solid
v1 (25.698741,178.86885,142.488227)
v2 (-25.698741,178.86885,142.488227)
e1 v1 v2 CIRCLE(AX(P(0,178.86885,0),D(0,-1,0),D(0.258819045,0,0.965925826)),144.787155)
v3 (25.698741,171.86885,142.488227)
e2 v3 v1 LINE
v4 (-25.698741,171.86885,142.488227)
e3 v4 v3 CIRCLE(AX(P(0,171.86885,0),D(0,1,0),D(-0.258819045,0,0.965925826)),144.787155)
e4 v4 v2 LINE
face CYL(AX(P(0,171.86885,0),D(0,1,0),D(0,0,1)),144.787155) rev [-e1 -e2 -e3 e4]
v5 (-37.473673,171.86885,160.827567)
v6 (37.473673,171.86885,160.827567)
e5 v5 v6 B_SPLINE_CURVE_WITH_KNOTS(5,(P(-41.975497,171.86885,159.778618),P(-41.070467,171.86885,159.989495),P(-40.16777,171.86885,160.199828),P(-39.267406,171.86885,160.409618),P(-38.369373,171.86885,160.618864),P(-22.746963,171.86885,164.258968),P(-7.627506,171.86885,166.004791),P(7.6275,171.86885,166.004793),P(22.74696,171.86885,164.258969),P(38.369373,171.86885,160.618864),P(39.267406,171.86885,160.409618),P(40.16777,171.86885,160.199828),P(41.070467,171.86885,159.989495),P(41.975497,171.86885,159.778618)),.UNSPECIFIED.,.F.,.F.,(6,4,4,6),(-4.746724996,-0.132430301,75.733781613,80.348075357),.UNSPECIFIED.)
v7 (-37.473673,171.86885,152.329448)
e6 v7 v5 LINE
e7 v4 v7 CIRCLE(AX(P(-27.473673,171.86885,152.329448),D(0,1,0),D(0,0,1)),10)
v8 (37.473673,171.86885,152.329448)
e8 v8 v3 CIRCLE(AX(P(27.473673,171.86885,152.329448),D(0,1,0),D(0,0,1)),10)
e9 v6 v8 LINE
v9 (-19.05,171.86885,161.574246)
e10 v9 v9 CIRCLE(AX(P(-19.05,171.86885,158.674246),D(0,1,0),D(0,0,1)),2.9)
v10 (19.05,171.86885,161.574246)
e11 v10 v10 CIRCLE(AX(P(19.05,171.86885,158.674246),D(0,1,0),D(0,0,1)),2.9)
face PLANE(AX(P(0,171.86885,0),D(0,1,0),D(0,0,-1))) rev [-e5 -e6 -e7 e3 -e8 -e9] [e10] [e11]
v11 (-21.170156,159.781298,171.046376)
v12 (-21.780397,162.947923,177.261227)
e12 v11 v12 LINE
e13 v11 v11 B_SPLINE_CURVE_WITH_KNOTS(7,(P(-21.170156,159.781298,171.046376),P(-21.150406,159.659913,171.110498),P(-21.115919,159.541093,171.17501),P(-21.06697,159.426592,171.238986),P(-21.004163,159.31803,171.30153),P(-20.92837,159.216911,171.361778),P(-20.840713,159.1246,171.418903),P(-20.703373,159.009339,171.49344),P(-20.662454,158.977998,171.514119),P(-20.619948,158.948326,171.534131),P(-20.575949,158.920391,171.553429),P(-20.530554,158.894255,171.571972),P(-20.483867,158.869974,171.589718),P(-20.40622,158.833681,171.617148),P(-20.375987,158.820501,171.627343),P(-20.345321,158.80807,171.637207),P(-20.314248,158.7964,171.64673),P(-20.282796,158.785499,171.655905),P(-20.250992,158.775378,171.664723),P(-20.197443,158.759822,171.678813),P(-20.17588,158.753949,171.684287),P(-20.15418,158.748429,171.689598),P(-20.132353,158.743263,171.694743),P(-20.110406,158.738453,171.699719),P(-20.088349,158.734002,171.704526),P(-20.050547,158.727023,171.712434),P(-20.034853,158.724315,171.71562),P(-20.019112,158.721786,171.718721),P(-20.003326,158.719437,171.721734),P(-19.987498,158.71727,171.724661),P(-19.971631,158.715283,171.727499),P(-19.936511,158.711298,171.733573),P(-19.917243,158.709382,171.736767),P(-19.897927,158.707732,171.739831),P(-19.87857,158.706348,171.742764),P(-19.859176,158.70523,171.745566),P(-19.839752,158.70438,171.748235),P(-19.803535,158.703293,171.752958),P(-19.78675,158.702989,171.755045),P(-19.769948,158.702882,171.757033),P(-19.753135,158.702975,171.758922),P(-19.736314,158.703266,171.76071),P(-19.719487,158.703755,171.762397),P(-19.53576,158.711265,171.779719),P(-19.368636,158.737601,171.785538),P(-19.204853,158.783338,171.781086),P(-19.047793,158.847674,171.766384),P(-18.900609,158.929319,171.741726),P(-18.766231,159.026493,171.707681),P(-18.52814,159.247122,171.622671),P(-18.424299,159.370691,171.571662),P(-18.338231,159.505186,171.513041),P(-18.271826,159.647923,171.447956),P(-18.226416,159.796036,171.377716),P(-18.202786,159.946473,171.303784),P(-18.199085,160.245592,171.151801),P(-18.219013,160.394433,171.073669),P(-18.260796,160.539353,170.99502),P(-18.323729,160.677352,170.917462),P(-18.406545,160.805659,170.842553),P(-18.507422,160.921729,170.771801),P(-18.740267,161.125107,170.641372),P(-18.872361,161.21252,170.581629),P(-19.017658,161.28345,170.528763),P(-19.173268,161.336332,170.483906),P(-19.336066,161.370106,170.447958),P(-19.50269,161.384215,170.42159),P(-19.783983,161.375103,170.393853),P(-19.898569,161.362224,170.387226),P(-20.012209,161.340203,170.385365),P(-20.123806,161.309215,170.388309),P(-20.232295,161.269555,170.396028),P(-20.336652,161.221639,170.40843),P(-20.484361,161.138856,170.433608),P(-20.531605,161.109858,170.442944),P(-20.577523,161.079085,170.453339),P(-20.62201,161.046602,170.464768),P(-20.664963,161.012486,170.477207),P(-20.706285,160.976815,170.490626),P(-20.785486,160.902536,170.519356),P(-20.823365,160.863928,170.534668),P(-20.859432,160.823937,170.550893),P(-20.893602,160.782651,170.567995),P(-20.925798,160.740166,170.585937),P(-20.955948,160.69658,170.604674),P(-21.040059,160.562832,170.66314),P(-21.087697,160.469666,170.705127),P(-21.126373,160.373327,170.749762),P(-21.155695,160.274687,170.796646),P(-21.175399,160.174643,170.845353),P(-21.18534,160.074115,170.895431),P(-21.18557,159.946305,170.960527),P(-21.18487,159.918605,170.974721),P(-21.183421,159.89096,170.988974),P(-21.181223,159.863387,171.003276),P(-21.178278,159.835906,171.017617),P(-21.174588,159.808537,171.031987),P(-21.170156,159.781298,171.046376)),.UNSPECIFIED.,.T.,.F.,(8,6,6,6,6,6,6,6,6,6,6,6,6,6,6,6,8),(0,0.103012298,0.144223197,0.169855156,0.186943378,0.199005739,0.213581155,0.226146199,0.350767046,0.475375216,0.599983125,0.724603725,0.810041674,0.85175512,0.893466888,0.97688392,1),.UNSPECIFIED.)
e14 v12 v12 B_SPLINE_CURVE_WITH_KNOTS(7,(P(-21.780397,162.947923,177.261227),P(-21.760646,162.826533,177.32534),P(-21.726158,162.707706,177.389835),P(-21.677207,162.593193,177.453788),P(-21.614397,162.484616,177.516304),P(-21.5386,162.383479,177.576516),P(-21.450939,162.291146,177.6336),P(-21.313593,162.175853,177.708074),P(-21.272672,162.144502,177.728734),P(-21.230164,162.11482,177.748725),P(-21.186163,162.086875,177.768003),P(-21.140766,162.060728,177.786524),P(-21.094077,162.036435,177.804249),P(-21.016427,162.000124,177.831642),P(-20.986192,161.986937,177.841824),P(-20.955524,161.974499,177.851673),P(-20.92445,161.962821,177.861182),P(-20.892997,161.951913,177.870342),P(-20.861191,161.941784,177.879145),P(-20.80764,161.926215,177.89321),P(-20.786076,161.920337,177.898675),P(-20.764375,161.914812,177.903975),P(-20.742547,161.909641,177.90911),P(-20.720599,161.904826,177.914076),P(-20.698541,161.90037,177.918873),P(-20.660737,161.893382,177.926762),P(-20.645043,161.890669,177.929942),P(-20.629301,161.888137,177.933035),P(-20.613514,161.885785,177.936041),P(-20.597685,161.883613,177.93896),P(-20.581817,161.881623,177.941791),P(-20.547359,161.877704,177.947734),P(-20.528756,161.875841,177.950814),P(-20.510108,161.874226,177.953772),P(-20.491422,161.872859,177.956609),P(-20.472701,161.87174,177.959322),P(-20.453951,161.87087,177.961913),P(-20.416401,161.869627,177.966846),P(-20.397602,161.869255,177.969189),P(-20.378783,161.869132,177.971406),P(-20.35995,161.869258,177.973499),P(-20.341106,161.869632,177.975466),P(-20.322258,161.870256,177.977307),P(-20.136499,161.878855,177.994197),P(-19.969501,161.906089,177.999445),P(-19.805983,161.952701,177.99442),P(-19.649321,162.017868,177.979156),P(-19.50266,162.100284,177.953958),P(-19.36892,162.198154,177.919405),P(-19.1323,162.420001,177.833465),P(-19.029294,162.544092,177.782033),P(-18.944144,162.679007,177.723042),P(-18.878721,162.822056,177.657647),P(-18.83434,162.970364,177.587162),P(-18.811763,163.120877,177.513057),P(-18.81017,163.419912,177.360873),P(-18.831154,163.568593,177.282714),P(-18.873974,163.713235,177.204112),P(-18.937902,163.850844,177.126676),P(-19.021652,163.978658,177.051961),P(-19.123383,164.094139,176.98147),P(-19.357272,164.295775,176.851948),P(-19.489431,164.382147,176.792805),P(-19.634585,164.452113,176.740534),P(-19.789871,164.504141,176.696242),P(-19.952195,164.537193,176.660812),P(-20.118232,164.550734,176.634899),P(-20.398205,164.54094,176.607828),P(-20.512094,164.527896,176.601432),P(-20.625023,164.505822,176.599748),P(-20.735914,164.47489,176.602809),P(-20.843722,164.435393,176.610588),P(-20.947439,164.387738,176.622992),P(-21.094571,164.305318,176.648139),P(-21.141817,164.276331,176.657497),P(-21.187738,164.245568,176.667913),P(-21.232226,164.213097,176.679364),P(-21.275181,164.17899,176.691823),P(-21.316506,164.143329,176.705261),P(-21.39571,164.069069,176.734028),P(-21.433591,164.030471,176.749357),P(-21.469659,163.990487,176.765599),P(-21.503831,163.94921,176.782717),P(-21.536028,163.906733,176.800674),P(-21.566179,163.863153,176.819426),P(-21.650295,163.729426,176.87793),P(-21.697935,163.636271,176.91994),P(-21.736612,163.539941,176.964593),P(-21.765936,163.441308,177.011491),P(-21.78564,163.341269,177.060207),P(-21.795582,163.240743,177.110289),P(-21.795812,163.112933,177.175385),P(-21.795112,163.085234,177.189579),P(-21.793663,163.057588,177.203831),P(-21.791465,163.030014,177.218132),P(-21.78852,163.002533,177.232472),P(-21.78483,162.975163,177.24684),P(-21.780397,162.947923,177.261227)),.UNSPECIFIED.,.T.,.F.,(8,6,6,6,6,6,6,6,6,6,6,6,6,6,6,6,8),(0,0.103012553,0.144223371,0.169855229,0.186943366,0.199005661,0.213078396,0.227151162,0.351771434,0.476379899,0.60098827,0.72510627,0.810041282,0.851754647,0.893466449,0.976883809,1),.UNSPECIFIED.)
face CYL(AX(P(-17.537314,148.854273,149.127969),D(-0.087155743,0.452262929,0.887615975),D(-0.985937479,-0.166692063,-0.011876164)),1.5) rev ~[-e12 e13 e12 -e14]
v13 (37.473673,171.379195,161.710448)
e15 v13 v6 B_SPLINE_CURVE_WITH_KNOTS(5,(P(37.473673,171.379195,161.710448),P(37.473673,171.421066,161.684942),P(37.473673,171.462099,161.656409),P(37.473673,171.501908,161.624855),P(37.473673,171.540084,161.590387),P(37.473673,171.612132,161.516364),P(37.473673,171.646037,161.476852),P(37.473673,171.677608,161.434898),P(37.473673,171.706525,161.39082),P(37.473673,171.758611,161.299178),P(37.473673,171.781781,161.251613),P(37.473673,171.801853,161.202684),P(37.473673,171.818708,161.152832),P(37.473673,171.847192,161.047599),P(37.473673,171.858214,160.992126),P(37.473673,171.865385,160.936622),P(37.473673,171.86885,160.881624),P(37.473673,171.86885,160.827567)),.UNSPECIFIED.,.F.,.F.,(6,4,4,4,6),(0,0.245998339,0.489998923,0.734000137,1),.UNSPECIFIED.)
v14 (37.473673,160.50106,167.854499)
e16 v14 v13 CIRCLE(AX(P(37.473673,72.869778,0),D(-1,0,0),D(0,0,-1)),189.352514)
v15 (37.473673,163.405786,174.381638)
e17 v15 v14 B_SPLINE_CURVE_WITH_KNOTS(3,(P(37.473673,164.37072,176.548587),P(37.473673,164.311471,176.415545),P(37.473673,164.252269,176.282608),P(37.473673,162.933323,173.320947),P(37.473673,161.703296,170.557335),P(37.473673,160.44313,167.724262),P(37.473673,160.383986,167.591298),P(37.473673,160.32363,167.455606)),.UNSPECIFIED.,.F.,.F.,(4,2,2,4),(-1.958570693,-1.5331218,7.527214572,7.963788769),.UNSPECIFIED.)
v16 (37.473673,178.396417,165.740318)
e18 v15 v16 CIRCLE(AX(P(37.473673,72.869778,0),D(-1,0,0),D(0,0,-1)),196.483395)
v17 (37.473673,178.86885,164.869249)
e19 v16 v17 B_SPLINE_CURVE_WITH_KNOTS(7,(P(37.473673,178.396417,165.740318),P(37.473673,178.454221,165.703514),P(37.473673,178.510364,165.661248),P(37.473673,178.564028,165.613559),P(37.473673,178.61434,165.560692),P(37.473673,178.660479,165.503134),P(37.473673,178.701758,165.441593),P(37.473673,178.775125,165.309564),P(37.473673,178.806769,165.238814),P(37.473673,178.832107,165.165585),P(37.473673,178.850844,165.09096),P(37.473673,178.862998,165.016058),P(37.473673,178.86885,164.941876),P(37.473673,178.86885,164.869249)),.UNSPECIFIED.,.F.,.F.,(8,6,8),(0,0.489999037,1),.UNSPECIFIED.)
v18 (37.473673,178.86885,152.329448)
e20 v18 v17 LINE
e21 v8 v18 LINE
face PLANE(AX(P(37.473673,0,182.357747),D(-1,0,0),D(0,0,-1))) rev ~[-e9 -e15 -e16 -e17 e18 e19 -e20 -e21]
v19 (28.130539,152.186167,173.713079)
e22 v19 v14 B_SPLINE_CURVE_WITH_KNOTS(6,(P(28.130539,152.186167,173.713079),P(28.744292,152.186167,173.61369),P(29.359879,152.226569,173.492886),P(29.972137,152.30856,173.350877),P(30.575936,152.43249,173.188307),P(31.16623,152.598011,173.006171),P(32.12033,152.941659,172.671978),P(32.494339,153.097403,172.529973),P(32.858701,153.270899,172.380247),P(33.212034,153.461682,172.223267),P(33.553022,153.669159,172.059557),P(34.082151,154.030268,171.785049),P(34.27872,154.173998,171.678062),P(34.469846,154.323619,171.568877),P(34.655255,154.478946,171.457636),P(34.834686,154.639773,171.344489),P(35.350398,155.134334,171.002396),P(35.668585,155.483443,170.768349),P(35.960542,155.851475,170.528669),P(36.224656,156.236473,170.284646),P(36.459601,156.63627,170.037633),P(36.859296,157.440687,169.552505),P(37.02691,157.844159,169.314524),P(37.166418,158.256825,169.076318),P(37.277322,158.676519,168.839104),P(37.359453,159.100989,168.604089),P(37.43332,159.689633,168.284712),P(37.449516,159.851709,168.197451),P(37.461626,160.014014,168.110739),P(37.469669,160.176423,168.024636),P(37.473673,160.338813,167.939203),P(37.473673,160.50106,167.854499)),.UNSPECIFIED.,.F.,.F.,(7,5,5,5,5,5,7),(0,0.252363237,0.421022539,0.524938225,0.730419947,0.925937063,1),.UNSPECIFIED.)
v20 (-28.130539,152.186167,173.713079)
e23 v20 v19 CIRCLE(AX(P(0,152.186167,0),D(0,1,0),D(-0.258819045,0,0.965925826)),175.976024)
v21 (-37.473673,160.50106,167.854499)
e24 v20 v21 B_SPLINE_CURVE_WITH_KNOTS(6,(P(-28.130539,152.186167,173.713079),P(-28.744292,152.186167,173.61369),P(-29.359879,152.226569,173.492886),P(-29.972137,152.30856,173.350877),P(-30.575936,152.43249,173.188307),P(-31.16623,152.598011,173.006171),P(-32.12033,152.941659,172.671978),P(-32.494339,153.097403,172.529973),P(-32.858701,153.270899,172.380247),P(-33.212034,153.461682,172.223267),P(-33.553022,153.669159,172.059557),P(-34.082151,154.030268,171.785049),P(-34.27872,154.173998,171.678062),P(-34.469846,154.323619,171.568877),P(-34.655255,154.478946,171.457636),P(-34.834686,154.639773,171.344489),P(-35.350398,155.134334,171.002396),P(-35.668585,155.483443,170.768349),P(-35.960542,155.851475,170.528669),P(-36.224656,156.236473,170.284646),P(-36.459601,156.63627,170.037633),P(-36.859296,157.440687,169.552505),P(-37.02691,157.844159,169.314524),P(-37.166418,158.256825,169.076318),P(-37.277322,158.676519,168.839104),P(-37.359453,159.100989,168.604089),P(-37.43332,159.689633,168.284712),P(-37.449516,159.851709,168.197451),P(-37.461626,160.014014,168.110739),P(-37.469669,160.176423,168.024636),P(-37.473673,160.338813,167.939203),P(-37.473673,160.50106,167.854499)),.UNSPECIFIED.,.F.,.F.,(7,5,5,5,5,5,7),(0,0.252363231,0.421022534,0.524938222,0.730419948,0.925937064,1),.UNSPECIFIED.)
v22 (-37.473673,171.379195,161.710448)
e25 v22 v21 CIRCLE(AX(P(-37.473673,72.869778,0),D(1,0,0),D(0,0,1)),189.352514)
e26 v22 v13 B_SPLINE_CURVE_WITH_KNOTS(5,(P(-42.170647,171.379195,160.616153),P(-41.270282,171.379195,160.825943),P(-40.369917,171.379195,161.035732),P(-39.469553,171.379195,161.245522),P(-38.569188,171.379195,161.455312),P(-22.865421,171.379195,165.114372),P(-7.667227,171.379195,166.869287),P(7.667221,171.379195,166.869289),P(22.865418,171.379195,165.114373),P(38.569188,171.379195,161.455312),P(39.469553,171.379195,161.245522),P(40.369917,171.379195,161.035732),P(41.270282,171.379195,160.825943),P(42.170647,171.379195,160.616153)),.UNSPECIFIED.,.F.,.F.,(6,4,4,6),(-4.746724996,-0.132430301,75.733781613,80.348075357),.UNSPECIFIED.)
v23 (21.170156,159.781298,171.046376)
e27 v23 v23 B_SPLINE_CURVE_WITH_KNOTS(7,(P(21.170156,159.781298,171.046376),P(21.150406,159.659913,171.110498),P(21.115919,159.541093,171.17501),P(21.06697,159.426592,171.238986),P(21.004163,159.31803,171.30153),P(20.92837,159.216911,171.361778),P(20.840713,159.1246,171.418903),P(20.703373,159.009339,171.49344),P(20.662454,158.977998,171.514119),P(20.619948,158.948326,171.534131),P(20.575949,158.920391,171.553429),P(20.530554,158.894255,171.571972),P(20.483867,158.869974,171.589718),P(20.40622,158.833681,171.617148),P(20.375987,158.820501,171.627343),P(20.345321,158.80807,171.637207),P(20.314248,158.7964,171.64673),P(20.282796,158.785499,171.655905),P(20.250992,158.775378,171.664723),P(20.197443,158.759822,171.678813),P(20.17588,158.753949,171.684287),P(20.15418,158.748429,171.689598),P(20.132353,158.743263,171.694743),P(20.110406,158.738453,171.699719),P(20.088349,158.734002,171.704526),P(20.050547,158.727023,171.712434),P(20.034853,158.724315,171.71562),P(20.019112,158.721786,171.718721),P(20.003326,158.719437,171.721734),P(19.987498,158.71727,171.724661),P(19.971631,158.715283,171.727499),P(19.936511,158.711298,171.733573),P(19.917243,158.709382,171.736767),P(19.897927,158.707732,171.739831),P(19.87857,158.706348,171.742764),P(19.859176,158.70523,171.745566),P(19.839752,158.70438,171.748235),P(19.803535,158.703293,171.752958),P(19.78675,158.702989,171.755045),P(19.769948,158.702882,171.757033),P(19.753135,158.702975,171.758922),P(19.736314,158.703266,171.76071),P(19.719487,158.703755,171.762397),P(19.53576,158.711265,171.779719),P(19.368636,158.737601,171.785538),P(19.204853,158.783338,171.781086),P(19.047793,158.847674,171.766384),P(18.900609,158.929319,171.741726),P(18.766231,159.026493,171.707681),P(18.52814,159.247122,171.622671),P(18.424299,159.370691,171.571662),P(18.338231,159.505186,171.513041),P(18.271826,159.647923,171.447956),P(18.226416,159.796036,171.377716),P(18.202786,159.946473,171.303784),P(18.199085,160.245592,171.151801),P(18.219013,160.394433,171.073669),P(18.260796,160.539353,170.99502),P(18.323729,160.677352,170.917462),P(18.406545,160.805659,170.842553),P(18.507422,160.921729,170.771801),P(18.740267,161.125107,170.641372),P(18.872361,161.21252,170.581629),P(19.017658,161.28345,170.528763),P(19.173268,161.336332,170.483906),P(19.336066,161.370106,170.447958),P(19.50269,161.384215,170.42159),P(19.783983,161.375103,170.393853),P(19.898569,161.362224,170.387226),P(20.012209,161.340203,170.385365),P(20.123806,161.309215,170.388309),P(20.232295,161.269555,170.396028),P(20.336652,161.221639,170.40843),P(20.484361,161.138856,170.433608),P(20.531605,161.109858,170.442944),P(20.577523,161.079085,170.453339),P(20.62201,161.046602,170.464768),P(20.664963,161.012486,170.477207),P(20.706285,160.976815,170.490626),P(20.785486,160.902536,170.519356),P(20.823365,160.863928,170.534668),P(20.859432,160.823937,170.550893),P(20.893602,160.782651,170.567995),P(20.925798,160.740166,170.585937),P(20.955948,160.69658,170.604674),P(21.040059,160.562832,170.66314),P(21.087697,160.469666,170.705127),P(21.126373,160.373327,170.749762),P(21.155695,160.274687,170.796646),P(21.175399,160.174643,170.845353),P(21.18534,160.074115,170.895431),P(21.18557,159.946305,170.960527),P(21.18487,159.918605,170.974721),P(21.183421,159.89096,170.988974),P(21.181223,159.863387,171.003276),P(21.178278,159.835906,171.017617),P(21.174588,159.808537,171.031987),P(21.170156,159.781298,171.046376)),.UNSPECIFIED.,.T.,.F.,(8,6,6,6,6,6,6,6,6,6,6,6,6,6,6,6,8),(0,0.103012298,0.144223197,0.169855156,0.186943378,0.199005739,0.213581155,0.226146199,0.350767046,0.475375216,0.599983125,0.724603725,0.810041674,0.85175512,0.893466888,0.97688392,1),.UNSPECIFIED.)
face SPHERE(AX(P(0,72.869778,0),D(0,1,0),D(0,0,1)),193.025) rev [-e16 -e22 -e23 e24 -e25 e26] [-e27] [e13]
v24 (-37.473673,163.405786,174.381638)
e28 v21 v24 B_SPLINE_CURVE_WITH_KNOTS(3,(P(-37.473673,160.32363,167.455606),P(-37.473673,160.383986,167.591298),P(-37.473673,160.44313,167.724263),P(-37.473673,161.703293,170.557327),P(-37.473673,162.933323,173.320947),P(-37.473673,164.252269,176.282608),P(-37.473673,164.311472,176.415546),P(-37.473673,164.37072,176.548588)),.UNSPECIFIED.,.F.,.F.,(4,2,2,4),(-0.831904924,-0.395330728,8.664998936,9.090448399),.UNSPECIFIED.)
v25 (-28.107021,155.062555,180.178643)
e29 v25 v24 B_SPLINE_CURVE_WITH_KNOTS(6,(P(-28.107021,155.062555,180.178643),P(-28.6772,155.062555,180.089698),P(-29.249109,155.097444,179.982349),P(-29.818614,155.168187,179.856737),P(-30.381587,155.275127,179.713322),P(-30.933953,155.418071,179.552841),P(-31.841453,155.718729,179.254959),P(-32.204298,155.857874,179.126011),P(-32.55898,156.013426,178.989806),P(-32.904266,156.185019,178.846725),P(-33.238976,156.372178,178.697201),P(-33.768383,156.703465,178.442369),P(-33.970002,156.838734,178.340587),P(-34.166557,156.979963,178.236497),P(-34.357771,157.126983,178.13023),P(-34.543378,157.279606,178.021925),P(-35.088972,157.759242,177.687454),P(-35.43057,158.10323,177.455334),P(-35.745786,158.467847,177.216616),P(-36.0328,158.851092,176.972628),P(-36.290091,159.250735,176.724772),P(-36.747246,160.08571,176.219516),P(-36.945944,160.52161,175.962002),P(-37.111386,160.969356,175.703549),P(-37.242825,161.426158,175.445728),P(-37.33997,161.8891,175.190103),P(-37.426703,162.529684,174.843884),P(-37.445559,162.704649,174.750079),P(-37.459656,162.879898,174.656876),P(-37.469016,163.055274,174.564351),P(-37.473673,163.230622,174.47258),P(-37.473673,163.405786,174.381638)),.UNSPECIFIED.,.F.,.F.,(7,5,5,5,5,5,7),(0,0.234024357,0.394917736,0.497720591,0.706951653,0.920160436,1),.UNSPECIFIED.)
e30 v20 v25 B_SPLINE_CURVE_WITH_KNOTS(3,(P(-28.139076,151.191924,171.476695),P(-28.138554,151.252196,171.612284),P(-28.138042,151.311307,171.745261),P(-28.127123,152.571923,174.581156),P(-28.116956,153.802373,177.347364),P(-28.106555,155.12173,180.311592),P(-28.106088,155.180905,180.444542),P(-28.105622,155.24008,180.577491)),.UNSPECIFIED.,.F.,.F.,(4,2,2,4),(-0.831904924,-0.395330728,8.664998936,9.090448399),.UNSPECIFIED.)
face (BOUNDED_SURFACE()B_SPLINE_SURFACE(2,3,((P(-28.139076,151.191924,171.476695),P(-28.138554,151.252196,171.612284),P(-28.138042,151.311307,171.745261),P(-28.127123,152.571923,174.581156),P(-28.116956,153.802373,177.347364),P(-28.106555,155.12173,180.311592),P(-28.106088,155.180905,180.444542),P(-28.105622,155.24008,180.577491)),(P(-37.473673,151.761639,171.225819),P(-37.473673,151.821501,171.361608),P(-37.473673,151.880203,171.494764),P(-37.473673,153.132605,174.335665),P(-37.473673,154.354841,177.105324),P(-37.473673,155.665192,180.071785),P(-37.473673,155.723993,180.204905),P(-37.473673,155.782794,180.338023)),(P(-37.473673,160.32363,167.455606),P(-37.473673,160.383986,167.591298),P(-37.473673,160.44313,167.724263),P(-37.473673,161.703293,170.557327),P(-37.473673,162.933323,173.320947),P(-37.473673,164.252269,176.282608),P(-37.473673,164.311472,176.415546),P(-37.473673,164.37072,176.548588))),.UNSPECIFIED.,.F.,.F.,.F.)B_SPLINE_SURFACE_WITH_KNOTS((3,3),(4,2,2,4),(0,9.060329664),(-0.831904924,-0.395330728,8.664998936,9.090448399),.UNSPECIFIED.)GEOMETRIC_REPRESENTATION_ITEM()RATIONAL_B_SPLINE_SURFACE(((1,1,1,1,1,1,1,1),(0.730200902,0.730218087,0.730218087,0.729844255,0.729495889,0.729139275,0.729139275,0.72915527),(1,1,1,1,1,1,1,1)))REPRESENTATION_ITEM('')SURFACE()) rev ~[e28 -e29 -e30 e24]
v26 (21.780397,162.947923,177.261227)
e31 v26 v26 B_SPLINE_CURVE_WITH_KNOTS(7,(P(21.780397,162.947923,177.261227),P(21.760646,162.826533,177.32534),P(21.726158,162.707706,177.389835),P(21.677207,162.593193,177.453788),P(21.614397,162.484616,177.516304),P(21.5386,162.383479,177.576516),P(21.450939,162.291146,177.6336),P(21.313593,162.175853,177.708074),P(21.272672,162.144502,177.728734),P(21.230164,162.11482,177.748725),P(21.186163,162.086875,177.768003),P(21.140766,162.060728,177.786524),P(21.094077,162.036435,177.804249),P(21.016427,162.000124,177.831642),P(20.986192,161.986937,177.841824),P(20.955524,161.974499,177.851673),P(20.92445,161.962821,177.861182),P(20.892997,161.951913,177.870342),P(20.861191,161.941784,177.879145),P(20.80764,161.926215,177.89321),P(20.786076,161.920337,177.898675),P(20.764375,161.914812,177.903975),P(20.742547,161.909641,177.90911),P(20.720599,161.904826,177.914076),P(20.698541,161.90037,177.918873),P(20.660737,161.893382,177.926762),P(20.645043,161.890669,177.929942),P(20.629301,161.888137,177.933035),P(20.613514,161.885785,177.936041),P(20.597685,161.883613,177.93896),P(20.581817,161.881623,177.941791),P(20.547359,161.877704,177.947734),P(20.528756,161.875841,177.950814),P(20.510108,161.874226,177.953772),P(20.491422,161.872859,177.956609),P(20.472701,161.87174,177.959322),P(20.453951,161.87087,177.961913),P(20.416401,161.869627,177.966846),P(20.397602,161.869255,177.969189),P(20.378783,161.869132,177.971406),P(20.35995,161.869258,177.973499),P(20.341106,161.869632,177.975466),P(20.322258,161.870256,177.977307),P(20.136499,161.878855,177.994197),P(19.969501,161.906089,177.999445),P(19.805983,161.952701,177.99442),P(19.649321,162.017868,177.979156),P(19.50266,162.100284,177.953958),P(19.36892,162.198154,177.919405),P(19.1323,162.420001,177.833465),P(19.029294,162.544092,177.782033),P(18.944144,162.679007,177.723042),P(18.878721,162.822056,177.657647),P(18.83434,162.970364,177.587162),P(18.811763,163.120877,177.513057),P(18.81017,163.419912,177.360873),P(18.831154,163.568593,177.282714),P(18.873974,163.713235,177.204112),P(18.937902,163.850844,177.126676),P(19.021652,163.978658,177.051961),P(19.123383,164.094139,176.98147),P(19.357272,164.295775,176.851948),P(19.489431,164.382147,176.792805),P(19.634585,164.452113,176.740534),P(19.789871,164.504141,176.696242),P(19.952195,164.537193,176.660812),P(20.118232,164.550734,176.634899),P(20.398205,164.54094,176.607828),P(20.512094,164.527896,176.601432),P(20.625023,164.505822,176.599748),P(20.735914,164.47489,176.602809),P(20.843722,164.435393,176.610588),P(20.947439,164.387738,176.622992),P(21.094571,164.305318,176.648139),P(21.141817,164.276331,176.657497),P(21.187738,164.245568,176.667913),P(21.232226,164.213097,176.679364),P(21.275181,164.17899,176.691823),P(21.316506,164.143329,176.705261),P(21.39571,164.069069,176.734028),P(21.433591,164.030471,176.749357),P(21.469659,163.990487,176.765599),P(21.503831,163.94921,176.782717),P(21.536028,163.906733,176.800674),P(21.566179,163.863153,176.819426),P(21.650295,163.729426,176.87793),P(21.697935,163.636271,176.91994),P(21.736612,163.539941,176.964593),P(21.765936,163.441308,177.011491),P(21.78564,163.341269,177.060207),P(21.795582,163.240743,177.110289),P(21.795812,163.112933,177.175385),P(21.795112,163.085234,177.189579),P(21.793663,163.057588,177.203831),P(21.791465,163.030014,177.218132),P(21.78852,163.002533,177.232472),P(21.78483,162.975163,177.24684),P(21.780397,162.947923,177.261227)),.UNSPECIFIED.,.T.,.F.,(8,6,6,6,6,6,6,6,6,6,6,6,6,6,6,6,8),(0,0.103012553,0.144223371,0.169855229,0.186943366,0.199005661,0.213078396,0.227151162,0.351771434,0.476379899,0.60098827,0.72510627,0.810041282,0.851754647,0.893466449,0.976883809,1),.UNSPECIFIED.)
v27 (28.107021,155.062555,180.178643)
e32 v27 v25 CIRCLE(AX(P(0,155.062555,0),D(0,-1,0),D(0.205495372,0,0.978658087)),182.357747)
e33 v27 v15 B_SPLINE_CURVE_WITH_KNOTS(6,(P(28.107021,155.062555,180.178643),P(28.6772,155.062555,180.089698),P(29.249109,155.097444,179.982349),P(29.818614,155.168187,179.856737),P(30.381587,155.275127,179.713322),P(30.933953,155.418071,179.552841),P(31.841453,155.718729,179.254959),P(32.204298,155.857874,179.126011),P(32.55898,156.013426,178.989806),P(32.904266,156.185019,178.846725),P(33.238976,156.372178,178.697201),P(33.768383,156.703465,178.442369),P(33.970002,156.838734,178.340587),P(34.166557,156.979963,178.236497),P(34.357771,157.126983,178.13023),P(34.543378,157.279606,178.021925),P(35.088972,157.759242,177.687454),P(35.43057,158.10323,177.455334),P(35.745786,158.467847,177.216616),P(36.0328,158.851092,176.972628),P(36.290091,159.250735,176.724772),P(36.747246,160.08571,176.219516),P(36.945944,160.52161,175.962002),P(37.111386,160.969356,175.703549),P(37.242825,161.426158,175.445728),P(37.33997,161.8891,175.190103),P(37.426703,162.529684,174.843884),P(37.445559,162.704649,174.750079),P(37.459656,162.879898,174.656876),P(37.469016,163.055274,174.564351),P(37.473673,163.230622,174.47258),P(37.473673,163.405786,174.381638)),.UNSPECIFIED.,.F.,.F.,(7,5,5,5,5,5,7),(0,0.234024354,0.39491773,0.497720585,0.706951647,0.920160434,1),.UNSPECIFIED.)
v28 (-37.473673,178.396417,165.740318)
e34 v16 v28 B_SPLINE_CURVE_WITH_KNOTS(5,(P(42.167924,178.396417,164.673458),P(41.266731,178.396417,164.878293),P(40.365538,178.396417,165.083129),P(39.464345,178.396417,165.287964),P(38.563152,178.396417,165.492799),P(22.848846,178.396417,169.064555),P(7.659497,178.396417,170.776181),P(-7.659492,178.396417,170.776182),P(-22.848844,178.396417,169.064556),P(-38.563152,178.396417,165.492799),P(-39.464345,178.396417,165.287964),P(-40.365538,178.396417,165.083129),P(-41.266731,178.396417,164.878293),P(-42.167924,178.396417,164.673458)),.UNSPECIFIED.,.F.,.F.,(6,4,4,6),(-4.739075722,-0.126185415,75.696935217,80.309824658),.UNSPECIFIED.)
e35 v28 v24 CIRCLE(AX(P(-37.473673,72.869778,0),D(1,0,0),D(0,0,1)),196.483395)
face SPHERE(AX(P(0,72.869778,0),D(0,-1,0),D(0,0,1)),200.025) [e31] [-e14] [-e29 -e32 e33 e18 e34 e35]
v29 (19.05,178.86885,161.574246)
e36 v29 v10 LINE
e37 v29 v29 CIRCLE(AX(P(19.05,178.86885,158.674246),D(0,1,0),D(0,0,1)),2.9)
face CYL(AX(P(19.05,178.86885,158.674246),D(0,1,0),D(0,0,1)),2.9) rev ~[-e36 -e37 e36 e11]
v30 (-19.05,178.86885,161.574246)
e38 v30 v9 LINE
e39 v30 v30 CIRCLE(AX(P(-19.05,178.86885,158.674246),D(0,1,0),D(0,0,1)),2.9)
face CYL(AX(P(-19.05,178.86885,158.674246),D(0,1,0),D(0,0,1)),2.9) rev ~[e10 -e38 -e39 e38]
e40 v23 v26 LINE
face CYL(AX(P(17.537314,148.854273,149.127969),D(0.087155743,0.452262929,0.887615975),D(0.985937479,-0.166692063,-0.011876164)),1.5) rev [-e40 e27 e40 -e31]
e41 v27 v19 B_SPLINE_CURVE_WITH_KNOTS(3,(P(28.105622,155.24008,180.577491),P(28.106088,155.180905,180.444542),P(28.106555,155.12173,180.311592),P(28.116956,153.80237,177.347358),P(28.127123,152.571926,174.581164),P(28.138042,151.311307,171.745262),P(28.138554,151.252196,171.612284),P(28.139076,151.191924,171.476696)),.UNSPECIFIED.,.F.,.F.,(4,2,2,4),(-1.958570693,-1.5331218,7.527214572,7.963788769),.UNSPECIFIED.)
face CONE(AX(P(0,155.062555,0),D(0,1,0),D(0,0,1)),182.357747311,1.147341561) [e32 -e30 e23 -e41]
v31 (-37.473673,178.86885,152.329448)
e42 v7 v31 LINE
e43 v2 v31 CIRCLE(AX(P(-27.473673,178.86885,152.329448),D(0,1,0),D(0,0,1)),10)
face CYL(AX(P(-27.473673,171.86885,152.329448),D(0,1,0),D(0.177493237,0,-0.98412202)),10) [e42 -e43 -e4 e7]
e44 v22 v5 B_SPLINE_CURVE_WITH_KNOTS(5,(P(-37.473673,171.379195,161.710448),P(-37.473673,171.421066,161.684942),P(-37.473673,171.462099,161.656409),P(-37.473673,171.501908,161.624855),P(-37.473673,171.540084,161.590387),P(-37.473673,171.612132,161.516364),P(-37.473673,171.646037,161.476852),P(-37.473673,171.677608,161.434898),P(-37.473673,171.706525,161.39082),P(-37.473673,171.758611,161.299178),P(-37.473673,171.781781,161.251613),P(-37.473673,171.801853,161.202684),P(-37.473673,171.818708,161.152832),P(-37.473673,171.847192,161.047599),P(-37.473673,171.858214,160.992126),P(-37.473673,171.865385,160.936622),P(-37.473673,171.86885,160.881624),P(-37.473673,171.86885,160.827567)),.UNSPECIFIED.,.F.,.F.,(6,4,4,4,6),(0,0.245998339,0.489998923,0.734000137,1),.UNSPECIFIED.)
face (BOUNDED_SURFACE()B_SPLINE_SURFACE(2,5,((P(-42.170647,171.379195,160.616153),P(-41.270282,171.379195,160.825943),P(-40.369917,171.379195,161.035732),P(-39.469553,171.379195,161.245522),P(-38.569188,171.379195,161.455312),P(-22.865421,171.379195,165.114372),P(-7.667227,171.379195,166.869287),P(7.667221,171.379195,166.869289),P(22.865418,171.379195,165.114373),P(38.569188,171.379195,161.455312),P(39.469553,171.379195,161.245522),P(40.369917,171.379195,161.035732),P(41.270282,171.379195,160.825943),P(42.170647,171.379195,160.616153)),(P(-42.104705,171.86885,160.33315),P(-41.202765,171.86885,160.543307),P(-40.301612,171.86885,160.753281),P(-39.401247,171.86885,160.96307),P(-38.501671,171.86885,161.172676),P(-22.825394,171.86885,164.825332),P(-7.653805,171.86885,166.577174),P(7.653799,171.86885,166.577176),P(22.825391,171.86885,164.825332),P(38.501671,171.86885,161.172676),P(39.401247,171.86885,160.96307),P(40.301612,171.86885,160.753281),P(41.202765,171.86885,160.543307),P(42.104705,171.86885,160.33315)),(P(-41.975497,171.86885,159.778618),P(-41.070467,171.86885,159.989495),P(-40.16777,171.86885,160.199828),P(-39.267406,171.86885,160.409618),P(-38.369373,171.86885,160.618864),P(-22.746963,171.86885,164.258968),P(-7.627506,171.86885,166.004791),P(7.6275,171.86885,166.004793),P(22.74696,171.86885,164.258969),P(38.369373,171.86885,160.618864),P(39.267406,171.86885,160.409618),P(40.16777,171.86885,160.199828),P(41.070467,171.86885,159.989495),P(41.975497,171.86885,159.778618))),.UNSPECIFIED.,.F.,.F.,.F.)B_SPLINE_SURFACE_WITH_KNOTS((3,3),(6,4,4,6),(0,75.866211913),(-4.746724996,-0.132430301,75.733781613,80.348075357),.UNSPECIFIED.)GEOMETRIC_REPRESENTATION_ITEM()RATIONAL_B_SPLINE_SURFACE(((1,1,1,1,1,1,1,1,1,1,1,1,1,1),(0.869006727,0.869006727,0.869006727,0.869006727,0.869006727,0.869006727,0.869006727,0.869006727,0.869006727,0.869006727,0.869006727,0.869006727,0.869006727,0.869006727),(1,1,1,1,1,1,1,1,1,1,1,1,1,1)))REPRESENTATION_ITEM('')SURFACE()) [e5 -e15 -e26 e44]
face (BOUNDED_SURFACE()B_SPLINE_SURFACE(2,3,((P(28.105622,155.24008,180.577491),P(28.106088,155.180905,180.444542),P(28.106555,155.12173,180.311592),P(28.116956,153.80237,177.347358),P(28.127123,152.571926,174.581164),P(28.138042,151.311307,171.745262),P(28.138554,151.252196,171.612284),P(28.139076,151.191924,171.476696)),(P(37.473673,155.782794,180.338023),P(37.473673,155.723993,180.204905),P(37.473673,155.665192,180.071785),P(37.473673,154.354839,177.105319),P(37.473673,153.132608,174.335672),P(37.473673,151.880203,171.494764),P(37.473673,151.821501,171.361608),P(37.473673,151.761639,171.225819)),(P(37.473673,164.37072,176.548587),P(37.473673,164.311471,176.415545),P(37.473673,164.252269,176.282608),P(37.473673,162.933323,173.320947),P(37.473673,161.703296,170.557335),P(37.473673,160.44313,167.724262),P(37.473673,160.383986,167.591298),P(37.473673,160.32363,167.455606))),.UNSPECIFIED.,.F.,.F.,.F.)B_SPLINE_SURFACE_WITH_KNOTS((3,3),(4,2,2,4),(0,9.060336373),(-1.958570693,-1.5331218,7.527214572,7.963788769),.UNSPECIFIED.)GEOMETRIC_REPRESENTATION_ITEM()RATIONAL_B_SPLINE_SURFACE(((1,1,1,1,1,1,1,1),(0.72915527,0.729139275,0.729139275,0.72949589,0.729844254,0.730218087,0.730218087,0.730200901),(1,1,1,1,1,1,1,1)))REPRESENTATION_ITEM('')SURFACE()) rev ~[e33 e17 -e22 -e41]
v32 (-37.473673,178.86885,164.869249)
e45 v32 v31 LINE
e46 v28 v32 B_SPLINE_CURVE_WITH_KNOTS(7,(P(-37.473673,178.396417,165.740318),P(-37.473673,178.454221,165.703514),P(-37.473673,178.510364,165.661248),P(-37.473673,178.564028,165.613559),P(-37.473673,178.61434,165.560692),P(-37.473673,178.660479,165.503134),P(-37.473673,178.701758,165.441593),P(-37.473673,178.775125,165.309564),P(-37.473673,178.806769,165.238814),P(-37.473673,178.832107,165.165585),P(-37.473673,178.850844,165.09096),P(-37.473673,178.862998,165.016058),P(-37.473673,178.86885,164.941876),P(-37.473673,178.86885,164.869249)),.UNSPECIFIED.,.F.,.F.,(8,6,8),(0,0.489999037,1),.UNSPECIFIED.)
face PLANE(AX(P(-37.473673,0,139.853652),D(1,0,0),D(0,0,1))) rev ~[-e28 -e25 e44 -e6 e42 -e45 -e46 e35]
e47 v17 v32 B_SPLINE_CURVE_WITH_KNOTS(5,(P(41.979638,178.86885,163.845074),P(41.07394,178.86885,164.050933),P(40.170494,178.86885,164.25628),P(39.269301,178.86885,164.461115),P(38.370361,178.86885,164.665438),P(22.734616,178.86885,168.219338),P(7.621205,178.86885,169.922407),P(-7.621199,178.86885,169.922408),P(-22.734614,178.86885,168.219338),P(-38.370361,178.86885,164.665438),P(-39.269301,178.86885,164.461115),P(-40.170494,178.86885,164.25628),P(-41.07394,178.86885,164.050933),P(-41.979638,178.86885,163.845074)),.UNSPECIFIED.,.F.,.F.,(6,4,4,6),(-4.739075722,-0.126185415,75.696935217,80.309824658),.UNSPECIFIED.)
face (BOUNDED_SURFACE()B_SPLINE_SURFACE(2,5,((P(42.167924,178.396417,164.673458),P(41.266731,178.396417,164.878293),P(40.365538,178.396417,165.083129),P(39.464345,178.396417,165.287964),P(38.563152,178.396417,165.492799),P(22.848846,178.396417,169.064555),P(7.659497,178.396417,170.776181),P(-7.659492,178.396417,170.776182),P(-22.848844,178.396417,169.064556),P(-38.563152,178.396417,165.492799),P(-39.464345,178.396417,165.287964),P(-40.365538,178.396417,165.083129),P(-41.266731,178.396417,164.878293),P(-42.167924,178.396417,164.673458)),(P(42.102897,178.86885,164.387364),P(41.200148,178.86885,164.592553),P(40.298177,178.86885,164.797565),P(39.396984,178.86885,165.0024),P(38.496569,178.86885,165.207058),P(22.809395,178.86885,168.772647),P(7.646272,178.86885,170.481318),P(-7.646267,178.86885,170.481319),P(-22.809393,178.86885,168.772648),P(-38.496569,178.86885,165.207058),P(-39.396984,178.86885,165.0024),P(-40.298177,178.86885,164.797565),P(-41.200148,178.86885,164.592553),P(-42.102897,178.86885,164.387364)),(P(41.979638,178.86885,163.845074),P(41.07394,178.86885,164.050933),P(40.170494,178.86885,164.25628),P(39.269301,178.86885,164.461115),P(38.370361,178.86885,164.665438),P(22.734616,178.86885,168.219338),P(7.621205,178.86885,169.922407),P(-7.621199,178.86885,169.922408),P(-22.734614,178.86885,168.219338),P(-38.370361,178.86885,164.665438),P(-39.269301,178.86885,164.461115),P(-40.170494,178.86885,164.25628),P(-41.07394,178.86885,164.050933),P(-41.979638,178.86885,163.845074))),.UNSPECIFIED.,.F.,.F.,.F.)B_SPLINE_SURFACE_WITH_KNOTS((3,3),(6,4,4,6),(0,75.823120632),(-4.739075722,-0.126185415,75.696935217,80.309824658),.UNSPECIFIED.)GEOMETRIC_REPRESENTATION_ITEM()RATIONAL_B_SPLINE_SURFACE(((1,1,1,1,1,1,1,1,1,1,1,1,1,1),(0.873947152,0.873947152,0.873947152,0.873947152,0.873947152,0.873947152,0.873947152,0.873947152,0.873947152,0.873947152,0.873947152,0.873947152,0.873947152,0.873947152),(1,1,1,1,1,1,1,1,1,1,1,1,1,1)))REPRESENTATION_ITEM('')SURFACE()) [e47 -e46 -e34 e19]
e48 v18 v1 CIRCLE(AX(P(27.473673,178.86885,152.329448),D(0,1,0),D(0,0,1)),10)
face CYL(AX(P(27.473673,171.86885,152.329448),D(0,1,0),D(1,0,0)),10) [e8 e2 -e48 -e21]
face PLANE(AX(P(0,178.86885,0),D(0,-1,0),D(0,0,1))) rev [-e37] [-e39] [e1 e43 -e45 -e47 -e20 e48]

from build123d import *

# Parameters (mm, degrees)
REVOLVE1_ANGLE     = 30.000000000000068
SKETCH5_OUTSIDE_W  = 117.778
SKETCH5_OUTSIDE_H  = 65.886
CUT_EXTRUDE2_DEPTH = 260.76149135356775
FILLET1_R          = 10
FILLET2_R          = 1
SKETCH6_R          = 2.9000000000000363
CUT_EXTRUDE3_DEPTH = 189.07070419365607


with BuildPart() as part:
    # Sketch1 → Revolve1 (revolve, symmetric)
    with BuildSketch(Plane(origin=(0, 0, 0), x_dir=(0, 0, -1), z_dir=(1, 0, 0))) as revolve1_sk:
        with BuildLine():
            Line((-182.35774731109075, 155.06255495822683), (-175.97602387063264, 152.18616730537))
            ThreePointArc((-175.97602387063264, 152.18616730537), (-171.12326361620543, 162.17531665611477), (-165.70405663890074, 171.86884968466347))
            Line((-165.70405663890074, 171.86884968466347), (-144.78715490957802, 171.8688496846635))
            Line((-144.78715490957802, 171.8688496846635), (-144.78715490957802, 178.86884968466353))
            Line((-144.78715490957802, 178.86884968466353), (-169.62958875117425, 178.8688496846635))
            ThreePointArc((-169.62958875117425, 178.8688496846635), (-176.3957372053048, 167.18067068421345), (-182.35774731109075, 155.06255495822683))
        make_face()
    revolve(axis=Axis((0, 0, 0), (0, 1, 0)), revolution_arc=REVOLVE1_ANGLE / 2)
    revolve(revolve1_sk.sketch, axis=Axis((0, 0, 0), (0, -1, 0)), revolution_arc=REVOLVE1_ANGLE / 2)

    # Sketch4 → Cut-Revolve1 (revolve, cut)
    with BuildSketch(Plane(origin=(0, 57.85077924674397, -29.47644429930001), x_dir=(0, 0.4539904997395446, 0.891006524188369), z_dir=(0, -0.891006524188369, 0.4539904997395446)), mode=Mode.PRIVATE) as cut_revolve1_sk:
        Polygon((200.3216852155454, 19.031606271083962), (239.0176946479082, 22.417068420107935), (239.1484282620297, 20.922776372970326), (200.4524188296669, 17.53731422394635), align=None)
    cut_revolve1 = revolve(cut_revolve1_sk.sketch.rotate(Axis((-17.53731422394635, 148.85427304522494, 149.12796866727265), (-0.08715574274765833, 0.4522629288245563, 0.8876159753616077)), 8.229125289), axis=Axis((-17.53731422394635, 148.85427304522494, 149.12796866727265), (-0.08715574274765833, 0.4522629288245563, 0.8876159753616077)), mode=Mode.SUBTRACT)

    # Mirror1: Cut-Revolve1 across plane
    add(cut_revolve1.mirror(Plane(origin=(0, 0, 0), x_dir=(0, 0, 1), z_dir=(1, 0, 0))), mode=Mode.SUBTRACT)

    # Sketch5 outside → Cut-Extrude2 (cut, through all)
    with BuildSketch(Plane(origin=(0, 0, 0), x_dir=(1, 0, 0), z_dir=(0, 1, 0))):
        with Locations((0, -161.106)):
            Rectangle(SKETCH5_OUTSIDE_W, SKETCH5_OUTSIDE_H)
        Polygon((37.473673176807814, -139.85365224207746), (-37.473673176807814, -139.85365224207746), (-37.47367317680781, -182.35774731109072), (37.47367317680782, -182.35774731109072), align=None, mode=Mode.SUBTRACT)
    extrude(amount=CUT_EXTRUDE2_DEPTH, mode=Mode.SUBTRACT)

    # Fillet1
    fillet1_edges = [part.edges().sort_by_distance(p)[0] for p in [
        (37.47367317680782, 175.36884968466353, 139.85365224207746),
        (37.47367317680782, 153.6238703887916, 175.2030438132355),
        (-37.47367317680781, 153.6238703887916, 175.20304381323552),
        (-37.47367317680782, 175.36884968466353, 139.85365224207746),
    ]]
    fillet(fillet1_edges, radius=FILLET1_R)

    # Fillet2
    fillet2_edges = [part.edges().sort_by_distance(p)[0] for p in [
        (2.132e-14, 178.86884968466353, 169.62958875117428),
        (1.421e-14, 171.86884968466347, 165.7040566389007),
    ]]
    fillet(fillet2_edges, radius=FILLET2_R)

    # Sketch6 → Cut-Extrude3 (cut, through all)
    with BuildSketch(Plane(origin=(0, 178.8688496846635, 0), x_dir=(1, 0, 0), z_dir=(0, 1, 0))):
        with Locations(Location((19.049999999999898, -158.67424557151682, 0), (0, 0, 270))):
            Circle(SKETCH6_R)
        with Locations(Location((-19.050000000000104, -158.67424557151682, 0), (0, 0, 270))):
            Circle(SKETCH6_R)
    extrude(amount=-CUT_EXTRUDE3_DEPTH, mode=Mode.SUBTRACT)


solid = part.part
